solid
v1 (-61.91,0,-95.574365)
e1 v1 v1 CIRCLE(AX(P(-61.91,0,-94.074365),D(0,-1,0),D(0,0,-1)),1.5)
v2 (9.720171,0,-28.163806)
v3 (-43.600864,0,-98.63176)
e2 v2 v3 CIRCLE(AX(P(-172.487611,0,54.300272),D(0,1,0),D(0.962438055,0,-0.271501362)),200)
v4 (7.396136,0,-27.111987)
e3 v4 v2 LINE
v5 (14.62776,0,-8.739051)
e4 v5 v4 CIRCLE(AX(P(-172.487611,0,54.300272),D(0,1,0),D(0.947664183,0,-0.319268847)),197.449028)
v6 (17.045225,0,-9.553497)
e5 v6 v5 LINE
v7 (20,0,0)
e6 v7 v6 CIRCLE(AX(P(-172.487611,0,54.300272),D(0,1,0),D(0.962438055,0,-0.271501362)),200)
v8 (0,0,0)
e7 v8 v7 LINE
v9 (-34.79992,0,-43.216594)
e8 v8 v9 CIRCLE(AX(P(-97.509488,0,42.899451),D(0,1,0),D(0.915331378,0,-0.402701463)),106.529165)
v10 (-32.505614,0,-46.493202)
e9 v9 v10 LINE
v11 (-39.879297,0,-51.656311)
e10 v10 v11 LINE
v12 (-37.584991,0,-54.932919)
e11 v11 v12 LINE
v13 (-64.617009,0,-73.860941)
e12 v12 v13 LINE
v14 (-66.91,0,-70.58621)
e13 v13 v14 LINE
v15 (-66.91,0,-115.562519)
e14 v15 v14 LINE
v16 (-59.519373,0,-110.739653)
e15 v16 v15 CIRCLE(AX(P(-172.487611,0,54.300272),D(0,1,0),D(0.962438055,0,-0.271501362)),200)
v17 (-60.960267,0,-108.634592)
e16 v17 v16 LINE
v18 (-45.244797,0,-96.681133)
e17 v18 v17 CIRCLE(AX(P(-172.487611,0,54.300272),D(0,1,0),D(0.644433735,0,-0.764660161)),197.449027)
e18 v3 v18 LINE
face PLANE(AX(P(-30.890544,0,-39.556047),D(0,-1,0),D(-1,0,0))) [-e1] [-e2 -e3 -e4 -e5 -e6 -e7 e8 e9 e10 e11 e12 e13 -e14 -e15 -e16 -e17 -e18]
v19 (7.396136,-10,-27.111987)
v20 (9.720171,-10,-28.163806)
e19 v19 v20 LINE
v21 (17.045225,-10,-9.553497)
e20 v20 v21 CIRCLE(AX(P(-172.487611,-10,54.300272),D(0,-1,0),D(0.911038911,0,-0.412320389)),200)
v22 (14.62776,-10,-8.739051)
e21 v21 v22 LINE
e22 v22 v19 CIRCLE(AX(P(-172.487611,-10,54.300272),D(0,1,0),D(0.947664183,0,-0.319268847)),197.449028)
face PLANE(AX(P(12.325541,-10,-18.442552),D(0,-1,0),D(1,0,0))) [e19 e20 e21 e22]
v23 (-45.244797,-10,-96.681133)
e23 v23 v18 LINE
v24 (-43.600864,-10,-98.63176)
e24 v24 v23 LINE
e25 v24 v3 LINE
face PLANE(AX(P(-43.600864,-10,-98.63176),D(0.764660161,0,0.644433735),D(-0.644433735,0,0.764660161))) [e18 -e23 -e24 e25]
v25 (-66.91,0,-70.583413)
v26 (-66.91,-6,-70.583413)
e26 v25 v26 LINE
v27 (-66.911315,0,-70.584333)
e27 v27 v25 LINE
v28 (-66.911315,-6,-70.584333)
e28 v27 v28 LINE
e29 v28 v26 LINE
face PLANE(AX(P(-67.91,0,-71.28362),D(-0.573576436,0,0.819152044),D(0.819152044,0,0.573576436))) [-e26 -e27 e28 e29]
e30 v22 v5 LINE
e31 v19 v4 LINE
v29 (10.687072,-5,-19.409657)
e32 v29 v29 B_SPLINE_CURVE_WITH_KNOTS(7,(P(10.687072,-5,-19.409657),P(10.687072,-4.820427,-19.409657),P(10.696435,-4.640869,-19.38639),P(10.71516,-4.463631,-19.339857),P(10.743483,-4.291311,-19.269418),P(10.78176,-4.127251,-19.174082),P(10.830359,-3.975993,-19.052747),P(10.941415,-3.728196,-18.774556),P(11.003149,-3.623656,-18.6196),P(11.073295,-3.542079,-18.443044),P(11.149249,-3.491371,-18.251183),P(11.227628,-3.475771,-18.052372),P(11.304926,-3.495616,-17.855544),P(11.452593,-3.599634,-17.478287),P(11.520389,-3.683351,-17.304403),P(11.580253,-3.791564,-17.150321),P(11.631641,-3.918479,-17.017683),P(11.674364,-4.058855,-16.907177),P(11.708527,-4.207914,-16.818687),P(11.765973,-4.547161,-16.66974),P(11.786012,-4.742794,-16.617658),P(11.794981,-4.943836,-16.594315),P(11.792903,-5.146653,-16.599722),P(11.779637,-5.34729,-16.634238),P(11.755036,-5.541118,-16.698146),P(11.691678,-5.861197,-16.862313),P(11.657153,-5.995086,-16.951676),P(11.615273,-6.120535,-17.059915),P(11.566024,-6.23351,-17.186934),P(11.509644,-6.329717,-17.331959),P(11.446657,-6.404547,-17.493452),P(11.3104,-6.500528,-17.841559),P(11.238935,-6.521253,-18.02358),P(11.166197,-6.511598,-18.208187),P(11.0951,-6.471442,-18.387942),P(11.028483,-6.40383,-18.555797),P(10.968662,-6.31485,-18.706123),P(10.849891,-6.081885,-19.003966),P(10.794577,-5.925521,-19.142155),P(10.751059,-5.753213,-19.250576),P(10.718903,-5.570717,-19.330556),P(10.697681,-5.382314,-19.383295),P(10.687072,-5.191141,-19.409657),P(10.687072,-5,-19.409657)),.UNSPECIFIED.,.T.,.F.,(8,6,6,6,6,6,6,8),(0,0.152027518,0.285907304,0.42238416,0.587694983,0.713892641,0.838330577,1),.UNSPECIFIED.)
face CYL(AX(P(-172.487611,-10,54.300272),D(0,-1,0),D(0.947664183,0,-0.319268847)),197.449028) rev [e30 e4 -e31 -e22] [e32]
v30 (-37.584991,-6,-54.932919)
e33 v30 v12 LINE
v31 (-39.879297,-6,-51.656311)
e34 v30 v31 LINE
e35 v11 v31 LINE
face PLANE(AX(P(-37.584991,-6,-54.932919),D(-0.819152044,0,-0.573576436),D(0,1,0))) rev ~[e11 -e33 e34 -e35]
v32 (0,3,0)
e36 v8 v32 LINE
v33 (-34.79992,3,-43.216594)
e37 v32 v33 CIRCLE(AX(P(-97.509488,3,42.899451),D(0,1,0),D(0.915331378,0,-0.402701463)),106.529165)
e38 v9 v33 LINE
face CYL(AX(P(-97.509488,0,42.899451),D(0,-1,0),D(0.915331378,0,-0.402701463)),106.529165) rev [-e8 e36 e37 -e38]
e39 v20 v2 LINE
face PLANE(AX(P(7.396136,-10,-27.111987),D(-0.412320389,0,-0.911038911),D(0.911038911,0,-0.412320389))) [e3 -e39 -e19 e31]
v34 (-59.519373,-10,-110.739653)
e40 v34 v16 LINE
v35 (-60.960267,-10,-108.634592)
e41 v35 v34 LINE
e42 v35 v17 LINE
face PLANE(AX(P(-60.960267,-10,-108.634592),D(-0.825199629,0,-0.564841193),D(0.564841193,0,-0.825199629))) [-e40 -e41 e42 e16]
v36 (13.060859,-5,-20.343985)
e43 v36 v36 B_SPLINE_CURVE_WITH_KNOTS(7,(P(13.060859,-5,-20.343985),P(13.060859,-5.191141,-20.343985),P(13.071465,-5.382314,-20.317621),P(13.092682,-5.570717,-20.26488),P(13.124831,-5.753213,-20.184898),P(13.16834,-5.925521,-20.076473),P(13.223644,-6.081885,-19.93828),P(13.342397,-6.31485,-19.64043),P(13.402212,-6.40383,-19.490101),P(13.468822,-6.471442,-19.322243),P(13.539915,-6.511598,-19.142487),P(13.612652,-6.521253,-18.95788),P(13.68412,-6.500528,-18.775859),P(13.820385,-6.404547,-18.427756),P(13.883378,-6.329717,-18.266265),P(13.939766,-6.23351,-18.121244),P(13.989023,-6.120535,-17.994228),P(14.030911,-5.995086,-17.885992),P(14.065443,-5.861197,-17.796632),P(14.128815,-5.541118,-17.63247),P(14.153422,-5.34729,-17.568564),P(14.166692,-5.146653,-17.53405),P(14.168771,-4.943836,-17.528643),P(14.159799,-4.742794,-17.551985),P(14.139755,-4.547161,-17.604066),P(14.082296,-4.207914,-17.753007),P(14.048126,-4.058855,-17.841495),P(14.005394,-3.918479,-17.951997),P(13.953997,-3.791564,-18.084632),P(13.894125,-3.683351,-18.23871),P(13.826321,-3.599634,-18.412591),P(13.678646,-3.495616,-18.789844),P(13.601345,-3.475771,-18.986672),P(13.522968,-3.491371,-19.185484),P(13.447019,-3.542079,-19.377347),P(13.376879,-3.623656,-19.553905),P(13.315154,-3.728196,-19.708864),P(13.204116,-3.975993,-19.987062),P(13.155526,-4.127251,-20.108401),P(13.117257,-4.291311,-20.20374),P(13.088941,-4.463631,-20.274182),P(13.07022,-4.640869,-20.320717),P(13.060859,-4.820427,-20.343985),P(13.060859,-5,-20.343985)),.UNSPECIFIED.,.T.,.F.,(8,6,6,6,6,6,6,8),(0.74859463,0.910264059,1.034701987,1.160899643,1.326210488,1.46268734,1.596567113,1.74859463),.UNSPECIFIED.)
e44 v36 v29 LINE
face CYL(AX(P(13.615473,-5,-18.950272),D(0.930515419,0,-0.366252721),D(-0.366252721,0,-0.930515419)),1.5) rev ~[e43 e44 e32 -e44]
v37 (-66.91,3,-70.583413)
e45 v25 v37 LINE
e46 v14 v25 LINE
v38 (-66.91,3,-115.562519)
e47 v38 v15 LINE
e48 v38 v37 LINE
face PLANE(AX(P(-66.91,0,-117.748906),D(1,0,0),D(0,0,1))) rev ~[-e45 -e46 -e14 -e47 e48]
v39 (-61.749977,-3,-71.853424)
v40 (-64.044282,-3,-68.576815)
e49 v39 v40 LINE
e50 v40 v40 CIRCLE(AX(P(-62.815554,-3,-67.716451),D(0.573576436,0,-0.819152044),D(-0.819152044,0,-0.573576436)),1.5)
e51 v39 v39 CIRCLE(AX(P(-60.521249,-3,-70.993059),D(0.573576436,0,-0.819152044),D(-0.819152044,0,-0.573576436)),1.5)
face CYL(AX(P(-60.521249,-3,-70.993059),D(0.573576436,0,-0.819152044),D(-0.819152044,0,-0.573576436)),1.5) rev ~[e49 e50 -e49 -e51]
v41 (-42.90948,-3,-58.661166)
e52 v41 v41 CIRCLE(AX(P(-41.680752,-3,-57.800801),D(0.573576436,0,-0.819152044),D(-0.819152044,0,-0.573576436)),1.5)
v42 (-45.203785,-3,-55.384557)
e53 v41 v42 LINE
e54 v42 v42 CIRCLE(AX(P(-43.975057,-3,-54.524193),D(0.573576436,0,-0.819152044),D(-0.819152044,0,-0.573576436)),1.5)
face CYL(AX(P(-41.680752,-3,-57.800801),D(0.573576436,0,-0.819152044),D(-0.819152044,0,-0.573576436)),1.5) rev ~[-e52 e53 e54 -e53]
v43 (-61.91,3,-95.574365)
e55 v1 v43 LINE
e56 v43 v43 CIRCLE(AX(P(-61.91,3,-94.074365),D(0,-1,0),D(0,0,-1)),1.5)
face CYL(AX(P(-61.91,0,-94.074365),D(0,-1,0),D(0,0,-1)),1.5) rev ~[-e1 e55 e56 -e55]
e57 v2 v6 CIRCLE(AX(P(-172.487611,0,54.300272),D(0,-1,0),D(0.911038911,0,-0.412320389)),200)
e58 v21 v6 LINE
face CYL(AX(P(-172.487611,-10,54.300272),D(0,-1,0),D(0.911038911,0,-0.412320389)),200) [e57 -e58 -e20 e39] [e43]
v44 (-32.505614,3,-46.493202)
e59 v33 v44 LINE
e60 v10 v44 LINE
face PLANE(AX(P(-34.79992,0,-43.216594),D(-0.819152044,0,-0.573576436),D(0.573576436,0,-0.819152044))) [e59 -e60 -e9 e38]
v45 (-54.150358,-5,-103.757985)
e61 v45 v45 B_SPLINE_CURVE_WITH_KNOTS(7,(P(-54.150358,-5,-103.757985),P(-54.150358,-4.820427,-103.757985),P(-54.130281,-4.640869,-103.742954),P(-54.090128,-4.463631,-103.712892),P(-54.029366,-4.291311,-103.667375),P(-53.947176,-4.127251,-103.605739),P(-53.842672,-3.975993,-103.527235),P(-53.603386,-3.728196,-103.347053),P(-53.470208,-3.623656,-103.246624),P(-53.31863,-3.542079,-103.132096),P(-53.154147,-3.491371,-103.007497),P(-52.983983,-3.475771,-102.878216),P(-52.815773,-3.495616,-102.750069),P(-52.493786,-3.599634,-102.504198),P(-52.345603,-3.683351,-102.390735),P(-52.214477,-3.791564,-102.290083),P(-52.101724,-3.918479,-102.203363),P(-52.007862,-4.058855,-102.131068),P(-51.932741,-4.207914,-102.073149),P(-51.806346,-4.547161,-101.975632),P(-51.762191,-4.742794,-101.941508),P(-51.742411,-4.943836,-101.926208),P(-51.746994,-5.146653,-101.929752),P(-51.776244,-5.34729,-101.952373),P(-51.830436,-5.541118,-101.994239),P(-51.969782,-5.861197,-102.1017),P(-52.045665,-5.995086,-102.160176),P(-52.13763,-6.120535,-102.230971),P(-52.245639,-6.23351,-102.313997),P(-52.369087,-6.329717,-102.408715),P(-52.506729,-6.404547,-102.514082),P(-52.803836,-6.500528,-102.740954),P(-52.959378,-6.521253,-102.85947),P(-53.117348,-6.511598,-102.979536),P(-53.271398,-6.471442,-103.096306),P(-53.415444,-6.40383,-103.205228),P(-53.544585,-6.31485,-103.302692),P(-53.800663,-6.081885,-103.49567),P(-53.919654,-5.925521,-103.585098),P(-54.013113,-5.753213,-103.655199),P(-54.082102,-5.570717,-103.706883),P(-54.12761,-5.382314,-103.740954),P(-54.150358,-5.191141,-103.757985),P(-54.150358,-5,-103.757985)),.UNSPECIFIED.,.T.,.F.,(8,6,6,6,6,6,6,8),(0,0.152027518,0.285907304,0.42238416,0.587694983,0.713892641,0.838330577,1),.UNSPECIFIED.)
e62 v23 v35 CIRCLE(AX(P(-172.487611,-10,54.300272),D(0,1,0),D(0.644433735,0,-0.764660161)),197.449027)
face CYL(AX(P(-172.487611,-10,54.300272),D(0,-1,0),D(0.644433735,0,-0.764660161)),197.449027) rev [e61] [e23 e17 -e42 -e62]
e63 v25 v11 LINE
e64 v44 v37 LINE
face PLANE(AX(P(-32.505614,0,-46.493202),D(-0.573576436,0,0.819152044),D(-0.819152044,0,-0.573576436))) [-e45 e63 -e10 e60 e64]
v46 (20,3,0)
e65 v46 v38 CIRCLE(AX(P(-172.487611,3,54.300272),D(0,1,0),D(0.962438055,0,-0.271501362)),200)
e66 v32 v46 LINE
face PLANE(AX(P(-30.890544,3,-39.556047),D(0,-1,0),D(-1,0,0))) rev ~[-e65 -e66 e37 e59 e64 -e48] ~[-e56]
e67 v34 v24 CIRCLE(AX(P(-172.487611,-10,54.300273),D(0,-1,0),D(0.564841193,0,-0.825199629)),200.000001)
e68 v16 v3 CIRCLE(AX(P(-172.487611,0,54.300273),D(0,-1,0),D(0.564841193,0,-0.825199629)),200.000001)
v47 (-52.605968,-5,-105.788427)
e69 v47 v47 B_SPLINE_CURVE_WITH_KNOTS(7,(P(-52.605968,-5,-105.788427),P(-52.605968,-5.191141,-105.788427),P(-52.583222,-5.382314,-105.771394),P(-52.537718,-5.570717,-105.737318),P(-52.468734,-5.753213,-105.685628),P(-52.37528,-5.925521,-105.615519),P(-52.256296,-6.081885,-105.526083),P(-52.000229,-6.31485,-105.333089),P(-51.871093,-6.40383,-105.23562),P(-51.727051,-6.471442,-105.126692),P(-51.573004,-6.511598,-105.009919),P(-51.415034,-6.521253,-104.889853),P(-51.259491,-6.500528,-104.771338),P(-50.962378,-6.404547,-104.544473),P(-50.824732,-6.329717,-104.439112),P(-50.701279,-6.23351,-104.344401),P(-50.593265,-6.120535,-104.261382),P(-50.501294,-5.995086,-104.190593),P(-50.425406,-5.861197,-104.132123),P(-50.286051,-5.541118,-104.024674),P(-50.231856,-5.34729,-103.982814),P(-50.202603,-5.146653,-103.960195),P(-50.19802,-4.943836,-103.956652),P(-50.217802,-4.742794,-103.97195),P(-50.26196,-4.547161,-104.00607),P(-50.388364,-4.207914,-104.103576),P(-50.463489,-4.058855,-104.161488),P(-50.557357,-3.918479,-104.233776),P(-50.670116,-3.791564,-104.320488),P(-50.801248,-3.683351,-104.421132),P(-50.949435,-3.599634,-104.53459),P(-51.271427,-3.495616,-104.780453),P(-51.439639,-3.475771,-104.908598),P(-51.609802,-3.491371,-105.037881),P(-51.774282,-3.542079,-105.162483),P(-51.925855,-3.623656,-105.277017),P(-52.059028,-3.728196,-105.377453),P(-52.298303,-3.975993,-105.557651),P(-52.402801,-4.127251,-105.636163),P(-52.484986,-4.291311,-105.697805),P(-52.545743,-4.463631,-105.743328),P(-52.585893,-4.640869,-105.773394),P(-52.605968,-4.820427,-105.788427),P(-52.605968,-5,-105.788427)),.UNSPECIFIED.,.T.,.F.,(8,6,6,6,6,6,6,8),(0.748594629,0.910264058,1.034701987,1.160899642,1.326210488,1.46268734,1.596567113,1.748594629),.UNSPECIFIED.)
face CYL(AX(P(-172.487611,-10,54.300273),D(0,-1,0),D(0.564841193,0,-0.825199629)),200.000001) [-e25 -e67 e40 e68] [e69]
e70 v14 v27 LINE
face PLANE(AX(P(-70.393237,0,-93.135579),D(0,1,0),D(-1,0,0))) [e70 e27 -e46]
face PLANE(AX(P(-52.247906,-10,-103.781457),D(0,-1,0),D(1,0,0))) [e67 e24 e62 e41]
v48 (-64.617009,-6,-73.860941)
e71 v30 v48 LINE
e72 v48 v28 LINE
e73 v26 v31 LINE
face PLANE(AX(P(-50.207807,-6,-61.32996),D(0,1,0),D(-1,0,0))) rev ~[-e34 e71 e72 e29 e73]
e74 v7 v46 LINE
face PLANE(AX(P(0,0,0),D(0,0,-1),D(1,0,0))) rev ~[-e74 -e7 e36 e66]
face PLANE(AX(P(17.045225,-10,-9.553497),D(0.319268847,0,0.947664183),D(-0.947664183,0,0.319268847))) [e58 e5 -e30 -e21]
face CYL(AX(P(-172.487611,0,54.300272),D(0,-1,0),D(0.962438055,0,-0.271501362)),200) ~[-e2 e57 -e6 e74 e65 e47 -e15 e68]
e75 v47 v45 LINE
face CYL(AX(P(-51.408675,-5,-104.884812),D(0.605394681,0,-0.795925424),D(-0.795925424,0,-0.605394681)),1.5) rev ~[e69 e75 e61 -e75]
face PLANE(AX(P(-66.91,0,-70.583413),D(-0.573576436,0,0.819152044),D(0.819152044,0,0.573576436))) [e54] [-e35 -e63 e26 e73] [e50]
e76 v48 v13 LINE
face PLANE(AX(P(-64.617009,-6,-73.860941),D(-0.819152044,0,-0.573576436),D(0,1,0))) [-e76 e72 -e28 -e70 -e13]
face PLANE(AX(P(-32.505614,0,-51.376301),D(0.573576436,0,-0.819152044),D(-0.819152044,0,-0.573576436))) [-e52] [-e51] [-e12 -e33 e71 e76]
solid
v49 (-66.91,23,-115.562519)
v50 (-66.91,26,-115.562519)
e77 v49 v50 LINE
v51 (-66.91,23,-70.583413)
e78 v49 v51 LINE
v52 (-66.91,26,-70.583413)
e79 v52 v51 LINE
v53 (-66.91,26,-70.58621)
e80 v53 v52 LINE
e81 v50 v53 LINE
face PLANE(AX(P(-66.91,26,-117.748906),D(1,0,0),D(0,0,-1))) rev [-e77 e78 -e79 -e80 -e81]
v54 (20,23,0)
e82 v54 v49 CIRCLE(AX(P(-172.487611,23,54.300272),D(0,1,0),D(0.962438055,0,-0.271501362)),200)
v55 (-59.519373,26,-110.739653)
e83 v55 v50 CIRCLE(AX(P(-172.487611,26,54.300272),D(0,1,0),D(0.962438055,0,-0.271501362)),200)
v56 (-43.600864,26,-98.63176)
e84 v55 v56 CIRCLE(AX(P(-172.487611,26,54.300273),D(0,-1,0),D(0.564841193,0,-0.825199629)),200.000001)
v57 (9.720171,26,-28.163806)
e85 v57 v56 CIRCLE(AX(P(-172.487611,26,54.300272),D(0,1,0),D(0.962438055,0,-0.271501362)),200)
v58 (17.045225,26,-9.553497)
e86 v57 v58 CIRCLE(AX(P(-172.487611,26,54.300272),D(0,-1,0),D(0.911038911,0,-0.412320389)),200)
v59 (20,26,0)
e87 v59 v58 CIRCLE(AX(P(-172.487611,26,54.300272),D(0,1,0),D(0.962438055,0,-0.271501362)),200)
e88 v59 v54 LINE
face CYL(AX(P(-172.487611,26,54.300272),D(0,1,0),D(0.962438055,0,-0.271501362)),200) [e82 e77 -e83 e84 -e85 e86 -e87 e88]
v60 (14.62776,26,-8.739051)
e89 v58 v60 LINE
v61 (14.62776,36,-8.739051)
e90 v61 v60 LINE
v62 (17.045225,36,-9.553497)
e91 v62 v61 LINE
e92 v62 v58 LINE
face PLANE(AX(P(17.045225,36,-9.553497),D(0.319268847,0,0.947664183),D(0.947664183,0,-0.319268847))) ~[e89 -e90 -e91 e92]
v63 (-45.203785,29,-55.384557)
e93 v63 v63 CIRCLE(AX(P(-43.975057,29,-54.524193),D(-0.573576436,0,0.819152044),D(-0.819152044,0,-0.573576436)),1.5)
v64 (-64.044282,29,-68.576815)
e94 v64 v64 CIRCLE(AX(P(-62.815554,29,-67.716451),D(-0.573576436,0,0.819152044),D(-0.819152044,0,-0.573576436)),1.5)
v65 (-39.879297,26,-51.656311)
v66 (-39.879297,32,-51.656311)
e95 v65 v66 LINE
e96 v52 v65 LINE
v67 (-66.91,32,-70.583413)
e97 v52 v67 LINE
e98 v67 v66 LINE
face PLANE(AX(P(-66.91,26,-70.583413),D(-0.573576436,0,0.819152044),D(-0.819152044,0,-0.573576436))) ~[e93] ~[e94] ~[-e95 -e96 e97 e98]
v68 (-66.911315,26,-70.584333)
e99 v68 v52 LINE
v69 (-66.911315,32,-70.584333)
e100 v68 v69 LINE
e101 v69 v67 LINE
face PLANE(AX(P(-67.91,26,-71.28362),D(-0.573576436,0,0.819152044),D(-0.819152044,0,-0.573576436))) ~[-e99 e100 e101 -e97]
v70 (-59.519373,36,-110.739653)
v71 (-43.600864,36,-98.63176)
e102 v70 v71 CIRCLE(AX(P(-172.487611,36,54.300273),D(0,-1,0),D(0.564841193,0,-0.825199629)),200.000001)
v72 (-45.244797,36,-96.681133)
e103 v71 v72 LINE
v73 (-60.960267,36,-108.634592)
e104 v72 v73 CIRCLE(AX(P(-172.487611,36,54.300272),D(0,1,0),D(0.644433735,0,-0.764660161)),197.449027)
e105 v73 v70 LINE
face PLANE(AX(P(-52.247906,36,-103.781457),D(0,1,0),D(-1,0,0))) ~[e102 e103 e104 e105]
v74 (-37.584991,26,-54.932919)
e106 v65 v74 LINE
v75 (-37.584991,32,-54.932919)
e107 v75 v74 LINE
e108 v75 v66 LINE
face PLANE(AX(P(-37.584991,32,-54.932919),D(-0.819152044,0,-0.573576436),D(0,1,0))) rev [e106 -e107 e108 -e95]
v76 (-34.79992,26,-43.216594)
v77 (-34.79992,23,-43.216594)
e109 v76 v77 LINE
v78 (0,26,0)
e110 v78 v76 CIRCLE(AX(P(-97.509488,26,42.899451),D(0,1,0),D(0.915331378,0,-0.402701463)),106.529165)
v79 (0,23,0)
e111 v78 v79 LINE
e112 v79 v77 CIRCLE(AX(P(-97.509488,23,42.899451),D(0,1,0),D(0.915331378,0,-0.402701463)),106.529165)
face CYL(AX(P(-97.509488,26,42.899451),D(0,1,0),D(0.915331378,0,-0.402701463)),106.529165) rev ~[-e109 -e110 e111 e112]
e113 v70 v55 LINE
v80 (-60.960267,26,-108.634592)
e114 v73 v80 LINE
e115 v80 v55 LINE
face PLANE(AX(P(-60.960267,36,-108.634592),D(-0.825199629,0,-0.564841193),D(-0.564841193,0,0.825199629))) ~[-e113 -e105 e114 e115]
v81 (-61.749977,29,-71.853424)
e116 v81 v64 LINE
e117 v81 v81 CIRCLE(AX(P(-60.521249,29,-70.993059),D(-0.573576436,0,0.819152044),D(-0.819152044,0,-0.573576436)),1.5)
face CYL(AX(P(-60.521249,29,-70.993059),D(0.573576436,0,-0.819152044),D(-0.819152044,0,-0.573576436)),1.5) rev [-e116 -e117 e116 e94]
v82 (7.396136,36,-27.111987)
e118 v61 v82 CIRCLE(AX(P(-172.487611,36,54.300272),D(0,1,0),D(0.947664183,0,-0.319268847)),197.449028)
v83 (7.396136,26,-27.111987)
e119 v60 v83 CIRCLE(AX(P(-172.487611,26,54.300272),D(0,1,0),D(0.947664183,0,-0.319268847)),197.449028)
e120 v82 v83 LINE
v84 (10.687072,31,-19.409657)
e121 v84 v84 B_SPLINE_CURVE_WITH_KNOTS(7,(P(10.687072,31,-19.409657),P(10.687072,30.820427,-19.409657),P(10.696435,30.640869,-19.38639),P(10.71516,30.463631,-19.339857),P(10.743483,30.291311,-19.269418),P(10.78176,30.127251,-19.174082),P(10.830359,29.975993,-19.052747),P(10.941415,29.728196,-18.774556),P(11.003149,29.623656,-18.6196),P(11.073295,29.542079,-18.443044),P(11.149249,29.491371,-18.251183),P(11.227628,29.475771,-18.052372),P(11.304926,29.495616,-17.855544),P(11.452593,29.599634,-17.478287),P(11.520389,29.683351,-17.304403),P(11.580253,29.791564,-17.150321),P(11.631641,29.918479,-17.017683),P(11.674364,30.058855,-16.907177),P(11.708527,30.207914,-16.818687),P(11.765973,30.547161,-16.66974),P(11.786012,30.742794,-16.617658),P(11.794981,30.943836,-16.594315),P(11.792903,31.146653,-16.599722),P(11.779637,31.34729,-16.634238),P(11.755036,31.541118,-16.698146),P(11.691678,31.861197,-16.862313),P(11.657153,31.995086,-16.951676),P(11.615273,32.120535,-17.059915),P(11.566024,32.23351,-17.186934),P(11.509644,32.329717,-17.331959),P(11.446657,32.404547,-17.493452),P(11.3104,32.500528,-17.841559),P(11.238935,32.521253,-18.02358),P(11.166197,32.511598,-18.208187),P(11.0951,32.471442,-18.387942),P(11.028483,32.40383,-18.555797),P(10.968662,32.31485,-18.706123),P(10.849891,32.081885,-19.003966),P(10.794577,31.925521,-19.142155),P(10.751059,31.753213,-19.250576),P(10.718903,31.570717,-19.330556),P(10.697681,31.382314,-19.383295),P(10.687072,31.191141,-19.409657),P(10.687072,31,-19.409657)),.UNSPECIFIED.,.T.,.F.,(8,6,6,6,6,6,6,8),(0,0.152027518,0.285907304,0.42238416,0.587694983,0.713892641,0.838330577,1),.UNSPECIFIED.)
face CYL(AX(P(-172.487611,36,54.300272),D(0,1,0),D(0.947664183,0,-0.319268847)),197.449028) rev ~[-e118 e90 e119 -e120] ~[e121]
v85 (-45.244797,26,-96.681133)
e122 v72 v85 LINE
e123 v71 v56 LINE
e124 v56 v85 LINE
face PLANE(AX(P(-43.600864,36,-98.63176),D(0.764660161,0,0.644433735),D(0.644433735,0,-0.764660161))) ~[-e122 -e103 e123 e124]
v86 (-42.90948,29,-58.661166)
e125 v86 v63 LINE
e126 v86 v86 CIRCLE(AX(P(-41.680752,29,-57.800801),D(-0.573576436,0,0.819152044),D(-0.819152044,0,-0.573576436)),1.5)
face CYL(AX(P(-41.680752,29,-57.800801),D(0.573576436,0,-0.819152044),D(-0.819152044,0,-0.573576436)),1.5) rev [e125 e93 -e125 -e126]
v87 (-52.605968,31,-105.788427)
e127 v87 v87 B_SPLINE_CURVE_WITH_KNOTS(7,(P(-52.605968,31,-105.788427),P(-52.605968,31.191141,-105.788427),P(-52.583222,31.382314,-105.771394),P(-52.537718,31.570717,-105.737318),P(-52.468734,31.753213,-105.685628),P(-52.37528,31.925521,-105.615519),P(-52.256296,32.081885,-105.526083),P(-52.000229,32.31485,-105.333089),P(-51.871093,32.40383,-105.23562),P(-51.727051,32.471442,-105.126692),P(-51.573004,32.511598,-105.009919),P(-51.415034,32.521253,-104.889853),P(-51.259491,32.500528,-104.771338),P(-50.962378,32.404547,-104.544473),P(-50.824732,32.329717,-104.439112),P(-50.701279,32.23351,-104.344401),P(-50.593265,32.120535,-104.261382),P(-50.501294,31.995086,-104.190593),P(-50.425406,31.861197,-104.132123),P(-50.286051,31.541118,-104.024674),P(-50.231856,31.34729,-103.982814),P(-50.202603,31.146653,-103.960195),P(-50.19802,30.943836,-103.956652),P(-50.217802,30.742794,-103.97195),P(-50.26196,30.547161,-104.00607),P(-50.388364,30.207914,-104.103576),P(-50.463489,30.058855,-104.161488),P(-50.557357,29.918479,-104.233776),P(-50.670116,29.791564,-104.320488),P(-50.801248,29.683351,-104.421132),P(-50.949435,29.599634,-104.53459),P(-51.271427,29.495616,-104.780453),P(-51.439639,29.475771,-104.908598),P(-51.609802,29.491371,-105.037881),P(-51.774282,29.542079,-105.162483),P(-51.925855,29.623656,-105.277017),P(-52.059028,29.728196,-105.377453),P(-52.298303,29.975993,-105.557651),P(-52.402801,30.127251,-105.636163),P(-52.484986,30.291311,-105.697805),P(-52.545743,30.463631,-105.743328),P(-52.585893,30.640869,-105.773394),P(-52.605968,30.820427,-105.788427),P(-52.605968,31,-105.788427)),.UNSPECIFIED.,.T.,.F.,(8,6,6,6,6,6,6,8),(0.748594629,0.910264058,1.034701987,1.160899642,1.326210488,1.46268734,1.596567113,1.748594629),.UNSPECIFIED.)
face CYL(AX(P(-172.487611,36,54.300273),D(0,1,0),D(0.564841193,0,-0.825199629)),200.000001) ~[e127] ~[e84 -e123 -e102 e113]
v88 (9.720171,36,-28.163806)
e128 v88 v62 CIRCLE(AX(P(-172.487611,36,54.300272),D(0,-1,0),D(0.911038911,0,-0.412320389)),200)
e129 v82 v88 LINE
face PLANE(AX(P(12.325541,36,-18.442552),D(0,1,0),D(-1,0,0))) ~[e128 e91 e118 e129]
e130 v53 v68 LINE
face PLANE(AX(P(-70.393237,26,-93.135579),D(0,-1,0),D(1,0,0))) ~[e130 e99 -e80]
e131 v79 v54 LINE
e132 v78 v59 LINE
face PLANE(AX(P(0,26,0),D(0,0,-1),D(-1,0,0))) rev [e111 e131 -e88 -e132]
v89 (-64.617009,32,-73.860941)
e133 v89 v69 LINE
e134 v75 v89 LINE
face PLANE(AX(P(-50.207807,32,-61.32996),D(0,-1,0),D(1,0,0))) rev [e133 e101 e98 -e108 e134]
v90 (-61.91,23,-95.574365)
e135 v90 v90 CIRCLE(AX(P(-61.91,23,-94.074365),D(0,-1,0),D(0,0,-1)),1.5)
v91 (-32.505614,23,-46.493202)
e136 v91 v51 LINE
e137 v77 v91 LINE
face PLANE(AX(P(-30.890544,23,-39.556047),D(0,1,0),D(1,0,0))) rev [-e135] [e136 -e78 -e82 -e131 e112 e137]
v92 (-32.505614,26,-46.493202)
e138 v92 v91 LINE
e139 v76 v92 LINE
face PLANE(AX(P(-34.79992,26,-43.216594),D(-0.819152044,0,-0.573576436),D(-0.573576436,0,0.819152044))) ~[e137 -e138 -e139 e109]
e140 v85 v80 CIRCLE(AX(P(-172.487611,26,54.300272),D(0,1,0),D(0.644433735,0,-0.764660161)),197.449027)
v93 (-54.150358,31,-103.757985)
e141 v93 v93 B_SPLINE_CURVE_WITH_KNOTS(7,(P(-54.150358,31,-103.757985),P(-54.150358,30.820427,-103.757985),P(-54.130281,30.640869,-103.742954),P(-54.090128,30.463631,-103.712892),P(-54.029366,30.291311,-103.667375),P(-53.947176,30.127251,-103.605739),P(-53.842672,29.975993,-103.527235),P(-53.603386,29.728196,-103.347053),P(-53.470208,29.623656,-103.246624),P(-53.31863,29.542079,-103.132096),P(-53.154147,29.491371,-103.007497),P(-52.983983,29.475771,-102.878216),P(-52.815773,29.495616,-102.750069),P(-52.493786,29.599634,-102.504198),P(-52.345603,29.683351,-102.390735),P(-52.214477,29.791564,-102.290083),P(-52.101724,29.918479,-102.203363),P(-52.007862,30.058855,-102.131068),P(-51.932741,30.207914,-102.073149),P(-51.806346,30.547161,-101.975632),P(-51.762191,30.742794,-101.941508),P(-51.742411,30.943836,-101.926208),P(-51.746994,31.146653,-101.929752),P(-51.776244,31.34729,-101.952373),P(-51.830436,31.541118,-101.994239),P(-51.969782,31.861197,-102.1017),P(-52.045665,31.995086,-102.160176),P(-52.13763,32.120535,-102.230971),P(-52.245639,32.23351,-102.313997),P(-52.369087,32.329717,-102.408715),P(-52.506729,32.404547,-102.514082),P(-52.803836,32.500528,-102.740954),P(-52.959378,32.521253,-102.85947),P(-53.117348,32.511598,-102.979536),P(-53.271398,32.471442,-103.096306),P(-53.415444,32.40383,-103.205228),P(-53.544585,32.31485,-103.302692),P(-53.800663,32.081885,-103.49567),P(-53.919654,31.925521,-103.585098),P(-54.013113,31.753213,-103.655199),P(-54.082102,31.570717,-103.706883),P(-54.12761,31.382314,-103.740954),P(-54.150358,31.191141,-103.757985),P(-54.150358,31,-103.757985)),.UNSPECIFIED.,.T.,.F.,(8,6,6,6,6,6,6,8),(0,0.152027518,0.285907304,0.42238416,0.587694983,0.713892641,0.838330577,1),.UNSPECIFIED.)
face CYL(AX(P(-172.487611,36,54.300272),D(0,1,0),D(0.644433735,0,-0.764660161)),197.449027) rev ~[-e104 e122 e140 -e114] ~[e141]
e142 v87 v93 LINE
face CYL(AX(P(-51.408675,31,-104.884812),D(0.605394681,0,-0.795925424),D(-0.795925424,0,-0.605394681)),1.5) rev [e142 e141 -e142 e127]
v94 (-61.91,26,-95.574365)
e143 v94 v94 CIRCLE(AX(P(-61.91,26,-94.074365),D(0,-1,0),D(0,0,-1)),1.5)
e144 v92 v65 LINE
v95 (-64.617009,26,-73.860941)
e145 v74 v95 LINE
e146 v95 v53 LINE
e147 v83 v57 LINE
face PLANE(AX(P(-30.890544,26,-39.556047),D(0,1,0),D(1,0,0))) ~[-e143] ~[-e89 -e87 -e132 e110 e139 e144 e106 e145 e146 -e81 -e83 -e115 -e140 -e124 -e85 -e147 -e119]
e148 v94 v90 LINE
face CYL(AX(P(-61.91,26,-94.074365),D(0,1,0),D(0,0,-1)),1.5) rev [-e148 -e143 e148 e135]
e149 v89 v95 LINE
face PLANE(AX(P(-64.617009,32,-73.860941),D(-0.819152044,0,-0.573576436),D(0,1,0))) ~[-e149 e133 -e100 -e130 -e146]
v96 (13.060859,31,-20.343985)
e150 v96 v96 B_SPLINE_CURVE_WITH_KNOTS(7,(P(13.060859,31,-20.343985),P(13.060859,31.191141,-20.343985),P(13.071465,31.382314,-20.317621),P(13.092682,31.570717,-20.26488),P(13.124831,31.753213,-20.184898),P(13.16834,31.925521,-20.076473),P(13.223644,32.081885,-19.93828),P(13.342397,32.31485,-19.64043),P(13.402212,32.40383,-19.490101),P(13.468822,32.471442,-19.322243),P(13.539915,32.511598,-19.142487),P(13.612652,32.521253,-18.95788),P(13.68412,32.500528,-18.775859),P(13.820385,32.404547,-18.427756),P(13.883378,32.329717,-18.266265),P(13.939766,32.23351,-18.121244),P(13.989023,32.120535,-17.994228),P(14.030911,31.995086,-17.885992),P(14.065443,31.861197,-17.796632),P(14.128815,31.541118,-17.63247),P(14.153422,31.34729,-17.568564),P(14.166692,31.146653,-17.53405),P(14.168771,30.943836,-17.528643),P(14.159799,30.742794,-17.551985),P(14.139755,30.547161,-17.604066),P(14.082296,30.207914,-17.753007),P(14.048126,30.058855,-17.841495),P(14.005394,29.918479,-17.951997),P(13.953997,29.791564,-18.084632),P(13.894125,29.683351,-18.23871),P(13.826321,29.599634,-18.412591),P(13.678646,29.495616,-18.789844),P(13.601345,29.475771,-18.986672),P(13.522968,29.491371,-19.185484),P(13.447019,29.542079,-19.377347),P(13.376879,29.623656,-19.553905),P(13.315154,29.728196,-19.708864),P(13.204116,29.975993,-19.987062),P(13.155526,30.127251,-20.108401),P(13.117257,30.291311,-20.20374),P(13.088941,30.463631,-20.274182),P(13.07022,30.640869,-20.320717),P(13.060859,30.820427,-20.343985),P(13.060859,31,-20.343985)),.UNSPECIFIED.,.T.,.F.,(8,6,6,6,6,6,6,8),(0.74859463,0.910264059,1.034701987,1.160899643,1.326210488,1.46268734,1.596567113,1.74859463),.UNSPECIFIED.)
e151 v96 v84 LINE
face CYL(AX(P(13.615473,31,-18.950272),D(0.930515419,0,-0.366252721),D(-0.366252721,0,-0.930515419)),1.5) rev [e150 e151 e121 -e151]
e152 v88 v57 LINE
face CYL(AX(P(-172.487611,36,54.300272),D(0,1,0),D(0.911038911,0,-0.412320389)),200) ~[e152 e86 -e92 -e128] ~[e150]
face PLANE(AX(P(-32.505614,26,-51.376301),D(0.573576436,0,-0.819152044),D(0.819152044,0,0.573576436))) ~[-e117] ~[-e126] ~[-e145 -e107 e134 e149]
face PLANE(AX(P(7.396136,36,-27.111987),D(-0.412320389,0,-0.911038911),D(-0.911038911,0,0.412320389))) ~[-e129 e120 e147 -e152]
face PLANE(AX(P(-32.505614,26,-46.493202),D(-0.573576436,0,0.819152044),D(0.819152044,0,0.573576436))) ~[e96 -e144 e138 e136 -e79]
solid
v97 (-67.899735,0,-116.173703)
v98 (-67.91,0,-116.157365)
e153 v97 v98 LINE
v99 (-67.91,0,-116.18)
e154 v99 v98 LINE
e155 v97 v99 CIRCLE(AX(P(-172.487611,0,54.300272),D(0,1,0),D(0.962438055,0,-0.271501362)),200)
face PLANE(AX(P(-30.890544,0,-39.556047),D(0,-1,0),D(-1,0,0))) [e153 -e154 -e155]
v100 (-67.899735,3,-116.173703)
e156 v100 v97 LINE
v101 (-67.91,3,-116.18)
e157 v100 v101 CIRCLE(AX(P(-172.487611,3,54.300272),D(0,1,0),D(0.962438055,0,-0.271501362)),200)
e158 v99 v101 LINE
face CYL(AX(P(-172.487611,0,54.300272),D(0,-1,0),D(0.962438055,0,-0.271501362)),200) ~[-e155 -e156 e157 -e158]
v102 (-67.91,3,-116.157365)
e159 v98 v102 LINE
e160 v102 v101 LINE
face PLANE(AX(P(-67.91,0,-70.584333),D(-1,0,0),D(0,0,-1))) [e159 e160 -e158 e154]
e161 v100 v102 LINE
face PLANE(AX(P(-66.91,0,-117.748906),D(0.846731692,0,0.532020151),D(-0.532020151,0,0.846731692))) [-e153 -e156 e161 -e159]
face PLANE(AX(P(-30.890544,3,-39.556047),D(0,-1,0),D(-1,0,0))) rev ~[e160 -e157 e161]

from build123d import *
from build123d.topology import SkipClean

# Parameters (mm, degrees)
BOSS_EXTRUDE1_DEPTH = 3
BOSS_EXTRUDE2_DEPTH = 6
SKETCH3_R           = 1.5
SKETCH3_W           = 9.001604742
SKETCH3_H           = 6
SKETCH3_W_2         = 4.02
CUT_EXTRUDE1_DEPTH  = 127.726009226
BOSS_EXTRUDE3_DEPTH = 3
BOSS_EXTRUDE4_START = 10
BOSS_EXTRUDE4_DEPTH = 10
SKETCH8_R           = 1.5
CUT_EXTRUDE2_DEPTH  = 128.550079345
SKETCH9_R           = 1.5
CUT_EXTRUDE3_DEPTH  = 140.296860914
CUT_EXTRUDE5_DEPTH  = 135.942804558
SKETCH10_R          = 1.5
CUT_EXTRUDE4_DEPTH  = 135.942804558


with BuildPart() as part:
    # Sketch1 → Boss-Extrude1 (new body)
    with BuildSketch(Plane(origin=(0, 0, 0), x_dir=(1, 0, 0), z_dir=(0, 1, 0))):
        with BuildLine():
            Line((0, 0), (20, 0))
            ThreePointArc((20, 0), (-12.999728612, 66.379532688), (-67.91, 116.18))
            Line((-67.91, 116.18), (-67.91, 72.58))
            ThreePointArc((-67.91, 72.58), (-27.76846685, 42.078474321), (0, 0))
        make_face()
    extrude(amount=BOSS_EXTRUDE1_DEPTH)

    # Sketch2 → Boss-Extrude2 (add)
    with BuildSketch(Plane.XZ):
        Polygon((-66.91, -70.583412503), (-32.50561414, -46.493202176), (-32.50561414, -51.376300531), (-67.91, -76.166718396), (-67.91, -71.283620041), align=None)
    extrude(amount=BOSS_EXTRUDE2_DEPTH)

    # Sketch3 → Cut-Extrude1 (cut, through all)
    with BuildSketch(Plane(origin=(13.44494558, 0, -19.201372231), x_dir=(-0.8191520442889929, 0, -0.5735764363510446), z_dir=(0.5735764363510446, 0, -0.819152044288993))):
        with Locations((90.296050234, -3)):
            Circle(SKETCH3_R)
        with Locations((67.296050234, -3)):
            Circle(SKETCH3_R)
        with Locations((57.795247863, -3)):
            Rectangle(SKETCH3_W, SKETCH3_H)
        with Locations((97.306050234, -3)):
            Rectangle(SKETCH3_W_2, SKETCH3_H)
    extrude(amount=-CUT_EXTRUDE1_DEPTH, mode=Mode.SUBTRACT)

    # Sketch5 → Boss-Extrude3 (add)
    with BuildSketch(Plane(origin=(0, 0, 0), x_dir=(1, 0, 0), z_dir=(0, 1, 0))):
        with BuildLine():
            Line((-66.911314527, 70.584332945), (-67.91, 70.584332945))
            Line((-67.91, 70.584332945), (-67.91, 72.58))
            ThreePointArc((-67.91, 72.58), (-27.76846685, 42.078474321), (0, 0))
            ThreePointArc((0, 0), (-14.53687211, 23.913782415), (-34.799919885, 43.216593999))
            Line((-34.799919885, 43.216593999), (-32.50561414, 46.493202176))
            Line((-32.50561414, 46.493202176), (-66.911314527, 70.584332945))
        make_face()
    extrude(amount=BOSS_EXTRUDE3_DEPTH)

    # Sketch6 → Boss-Extrude4 (add)
    with SkipClean():  # the faces are left unmerged after this step: merging them gives an invalid solid
        with BuildSketch(Plane.XZ.offset(BOSS_EXTRUDE4_START)):
            with BuildLine():
                Line((17.045225443, -9.553497125), (14.627759947, -8.739050999))
                ThreePointArc((14.627759947, -8.739050999), (11.241753199, -18.015971085), (7.396135604, -27.111987428))
                Line((7.396135604, -27.111987428), (9.72017103, -28.163805501))
                ThreePointArc((9.72017103, -28.163805501), (13.615472666, -18.950271792), (17.045225443, -9.553497125))
            make_face()
            with BuildLine():
                Line((-43.600864087, -98.631759771), (-45.244796978, -96.681132546))
                ThreePointArc((-45.244796978, -96.681132546), (-52.953020273, -102.854428394), (-60.960267052, -108.634591628))
                Line((-60.960267052, -108.634591628), (-59.519372567, -110.739653386))
                ThreePointArc((-59.519372567, -110.739653386), (-51.408674946, -104.884812453), (-43.600864087, -98.631759771))
            make_face()
        extrude(amount=-BOSS_EXTRUDE4_DEPTH)

    # Sketch8 → Cut-Extrude2 (cut, through all)
    with SkipClean():  # the faces are left unmerged after this step: merging them gives an invalid solid
        with BuildSketch(Plane(origin=(-51.408674946, -10, -104.884812453), x_dir=(-0.7959254239888501, 0, -0.6053946807233849), z_dir=(0.6053946807233849, 0, -0.7959254239888501))):
            with Locations((0, 5)):
                Circle(SKETCH8_R)
        extrude(amount=-CUT_EXTRUDE2_DEPTH, mode=Mode.SUBTRACT)

    # Sketch9 → Cut-Extrude3 (cut, through all)
    with SkipClean():  # the faces are left unmerged after this step: merging them gives an invalid solid
        with BuildSketch(Plane(origin=(18.247403502, 0, -7.182214333), x_dir=(-0.36625272068036263, 0, -0.9305154187837149), z_dir=(0.9305154187837149, 0, -0.36625272068036263))):
            with Locations((12.646816185, -5)):
                Circle(SKETCH9_R)
        extrude(amount=-CUT_EXTRUDE3_DEPTH, mode=Mode.SUBTRACT)

    # Sketch11 → Cut-Extrude5 (cut, through all)
    with SkipClean():  # the faces are left unmerged after this step: merging them gives an invalid solid
        with BuildSketch(Plane.XZ):
            with BuildLine():
                Line((-66.91, -70.583412503), (-66.91, -115.562519451))
                Line((-66.91, -115.562519451), (-66.91, -117.748905653))
                Line((-66.91, -117.748905653), (-78.626173162, -99.102139907))
                ThreePointArc((-78.626173162, -99.102139907), (-78.831832297, -91.769406487), (-72.513559714, -88.042382652))
                Line((-72.513559714, -88.042382652), (-69.539157742, -68.426897103))
                Line((-69.539157742, -68.426897103), (-66.91, -70.583412503))
            make_face()
        extrude(amount=-CUT_EXTRUDE5_DEPTH, mode=Mode.SUBTRACT)


with BuildPart() as cut_extrude5_piece_1:
    # of the separate pieces the step leaves, piece 1, a body of its own (cut_extrude5_pieces)
    add(part.part.solids().sort_by_distance((-64.617008782, 0, -73.860941122))[0])

    # Sketch10 → Cut-Extrude4 (cut, through all)
    with SkipClean():  # the faces are left unmerged after this step: merging them gives an invalid solid
        with BuildSketch(Plane.XZ):
            with Locations(Location((-61.91, -94.074364868, 0), (0, 0, 270))):
                Circle(SKETCH10_R)
        extrude(amount=-CUT_EXTRUDE4_DEPTH, mode=Mode.SUBTRACT)


with BuildPart() as cut_extrude5_piece_2:
    # of the separate pieces the step leaves, piece 2, a body of its own (cut_extrude5_pieces)
    add(part.part.solids().sort_by_distance((-67.91, 0, -116.18))[0])


with BuildPart() as body_3:
    # Mirror2: mirrored copy
    add(cut_extrude5_piece_1.part.mirror(Plane.ZX.offset(13)))


solid = Compound([cut_extrude5_piece_1.part, cut_extrude5_piece_2.part, body_3.part])
